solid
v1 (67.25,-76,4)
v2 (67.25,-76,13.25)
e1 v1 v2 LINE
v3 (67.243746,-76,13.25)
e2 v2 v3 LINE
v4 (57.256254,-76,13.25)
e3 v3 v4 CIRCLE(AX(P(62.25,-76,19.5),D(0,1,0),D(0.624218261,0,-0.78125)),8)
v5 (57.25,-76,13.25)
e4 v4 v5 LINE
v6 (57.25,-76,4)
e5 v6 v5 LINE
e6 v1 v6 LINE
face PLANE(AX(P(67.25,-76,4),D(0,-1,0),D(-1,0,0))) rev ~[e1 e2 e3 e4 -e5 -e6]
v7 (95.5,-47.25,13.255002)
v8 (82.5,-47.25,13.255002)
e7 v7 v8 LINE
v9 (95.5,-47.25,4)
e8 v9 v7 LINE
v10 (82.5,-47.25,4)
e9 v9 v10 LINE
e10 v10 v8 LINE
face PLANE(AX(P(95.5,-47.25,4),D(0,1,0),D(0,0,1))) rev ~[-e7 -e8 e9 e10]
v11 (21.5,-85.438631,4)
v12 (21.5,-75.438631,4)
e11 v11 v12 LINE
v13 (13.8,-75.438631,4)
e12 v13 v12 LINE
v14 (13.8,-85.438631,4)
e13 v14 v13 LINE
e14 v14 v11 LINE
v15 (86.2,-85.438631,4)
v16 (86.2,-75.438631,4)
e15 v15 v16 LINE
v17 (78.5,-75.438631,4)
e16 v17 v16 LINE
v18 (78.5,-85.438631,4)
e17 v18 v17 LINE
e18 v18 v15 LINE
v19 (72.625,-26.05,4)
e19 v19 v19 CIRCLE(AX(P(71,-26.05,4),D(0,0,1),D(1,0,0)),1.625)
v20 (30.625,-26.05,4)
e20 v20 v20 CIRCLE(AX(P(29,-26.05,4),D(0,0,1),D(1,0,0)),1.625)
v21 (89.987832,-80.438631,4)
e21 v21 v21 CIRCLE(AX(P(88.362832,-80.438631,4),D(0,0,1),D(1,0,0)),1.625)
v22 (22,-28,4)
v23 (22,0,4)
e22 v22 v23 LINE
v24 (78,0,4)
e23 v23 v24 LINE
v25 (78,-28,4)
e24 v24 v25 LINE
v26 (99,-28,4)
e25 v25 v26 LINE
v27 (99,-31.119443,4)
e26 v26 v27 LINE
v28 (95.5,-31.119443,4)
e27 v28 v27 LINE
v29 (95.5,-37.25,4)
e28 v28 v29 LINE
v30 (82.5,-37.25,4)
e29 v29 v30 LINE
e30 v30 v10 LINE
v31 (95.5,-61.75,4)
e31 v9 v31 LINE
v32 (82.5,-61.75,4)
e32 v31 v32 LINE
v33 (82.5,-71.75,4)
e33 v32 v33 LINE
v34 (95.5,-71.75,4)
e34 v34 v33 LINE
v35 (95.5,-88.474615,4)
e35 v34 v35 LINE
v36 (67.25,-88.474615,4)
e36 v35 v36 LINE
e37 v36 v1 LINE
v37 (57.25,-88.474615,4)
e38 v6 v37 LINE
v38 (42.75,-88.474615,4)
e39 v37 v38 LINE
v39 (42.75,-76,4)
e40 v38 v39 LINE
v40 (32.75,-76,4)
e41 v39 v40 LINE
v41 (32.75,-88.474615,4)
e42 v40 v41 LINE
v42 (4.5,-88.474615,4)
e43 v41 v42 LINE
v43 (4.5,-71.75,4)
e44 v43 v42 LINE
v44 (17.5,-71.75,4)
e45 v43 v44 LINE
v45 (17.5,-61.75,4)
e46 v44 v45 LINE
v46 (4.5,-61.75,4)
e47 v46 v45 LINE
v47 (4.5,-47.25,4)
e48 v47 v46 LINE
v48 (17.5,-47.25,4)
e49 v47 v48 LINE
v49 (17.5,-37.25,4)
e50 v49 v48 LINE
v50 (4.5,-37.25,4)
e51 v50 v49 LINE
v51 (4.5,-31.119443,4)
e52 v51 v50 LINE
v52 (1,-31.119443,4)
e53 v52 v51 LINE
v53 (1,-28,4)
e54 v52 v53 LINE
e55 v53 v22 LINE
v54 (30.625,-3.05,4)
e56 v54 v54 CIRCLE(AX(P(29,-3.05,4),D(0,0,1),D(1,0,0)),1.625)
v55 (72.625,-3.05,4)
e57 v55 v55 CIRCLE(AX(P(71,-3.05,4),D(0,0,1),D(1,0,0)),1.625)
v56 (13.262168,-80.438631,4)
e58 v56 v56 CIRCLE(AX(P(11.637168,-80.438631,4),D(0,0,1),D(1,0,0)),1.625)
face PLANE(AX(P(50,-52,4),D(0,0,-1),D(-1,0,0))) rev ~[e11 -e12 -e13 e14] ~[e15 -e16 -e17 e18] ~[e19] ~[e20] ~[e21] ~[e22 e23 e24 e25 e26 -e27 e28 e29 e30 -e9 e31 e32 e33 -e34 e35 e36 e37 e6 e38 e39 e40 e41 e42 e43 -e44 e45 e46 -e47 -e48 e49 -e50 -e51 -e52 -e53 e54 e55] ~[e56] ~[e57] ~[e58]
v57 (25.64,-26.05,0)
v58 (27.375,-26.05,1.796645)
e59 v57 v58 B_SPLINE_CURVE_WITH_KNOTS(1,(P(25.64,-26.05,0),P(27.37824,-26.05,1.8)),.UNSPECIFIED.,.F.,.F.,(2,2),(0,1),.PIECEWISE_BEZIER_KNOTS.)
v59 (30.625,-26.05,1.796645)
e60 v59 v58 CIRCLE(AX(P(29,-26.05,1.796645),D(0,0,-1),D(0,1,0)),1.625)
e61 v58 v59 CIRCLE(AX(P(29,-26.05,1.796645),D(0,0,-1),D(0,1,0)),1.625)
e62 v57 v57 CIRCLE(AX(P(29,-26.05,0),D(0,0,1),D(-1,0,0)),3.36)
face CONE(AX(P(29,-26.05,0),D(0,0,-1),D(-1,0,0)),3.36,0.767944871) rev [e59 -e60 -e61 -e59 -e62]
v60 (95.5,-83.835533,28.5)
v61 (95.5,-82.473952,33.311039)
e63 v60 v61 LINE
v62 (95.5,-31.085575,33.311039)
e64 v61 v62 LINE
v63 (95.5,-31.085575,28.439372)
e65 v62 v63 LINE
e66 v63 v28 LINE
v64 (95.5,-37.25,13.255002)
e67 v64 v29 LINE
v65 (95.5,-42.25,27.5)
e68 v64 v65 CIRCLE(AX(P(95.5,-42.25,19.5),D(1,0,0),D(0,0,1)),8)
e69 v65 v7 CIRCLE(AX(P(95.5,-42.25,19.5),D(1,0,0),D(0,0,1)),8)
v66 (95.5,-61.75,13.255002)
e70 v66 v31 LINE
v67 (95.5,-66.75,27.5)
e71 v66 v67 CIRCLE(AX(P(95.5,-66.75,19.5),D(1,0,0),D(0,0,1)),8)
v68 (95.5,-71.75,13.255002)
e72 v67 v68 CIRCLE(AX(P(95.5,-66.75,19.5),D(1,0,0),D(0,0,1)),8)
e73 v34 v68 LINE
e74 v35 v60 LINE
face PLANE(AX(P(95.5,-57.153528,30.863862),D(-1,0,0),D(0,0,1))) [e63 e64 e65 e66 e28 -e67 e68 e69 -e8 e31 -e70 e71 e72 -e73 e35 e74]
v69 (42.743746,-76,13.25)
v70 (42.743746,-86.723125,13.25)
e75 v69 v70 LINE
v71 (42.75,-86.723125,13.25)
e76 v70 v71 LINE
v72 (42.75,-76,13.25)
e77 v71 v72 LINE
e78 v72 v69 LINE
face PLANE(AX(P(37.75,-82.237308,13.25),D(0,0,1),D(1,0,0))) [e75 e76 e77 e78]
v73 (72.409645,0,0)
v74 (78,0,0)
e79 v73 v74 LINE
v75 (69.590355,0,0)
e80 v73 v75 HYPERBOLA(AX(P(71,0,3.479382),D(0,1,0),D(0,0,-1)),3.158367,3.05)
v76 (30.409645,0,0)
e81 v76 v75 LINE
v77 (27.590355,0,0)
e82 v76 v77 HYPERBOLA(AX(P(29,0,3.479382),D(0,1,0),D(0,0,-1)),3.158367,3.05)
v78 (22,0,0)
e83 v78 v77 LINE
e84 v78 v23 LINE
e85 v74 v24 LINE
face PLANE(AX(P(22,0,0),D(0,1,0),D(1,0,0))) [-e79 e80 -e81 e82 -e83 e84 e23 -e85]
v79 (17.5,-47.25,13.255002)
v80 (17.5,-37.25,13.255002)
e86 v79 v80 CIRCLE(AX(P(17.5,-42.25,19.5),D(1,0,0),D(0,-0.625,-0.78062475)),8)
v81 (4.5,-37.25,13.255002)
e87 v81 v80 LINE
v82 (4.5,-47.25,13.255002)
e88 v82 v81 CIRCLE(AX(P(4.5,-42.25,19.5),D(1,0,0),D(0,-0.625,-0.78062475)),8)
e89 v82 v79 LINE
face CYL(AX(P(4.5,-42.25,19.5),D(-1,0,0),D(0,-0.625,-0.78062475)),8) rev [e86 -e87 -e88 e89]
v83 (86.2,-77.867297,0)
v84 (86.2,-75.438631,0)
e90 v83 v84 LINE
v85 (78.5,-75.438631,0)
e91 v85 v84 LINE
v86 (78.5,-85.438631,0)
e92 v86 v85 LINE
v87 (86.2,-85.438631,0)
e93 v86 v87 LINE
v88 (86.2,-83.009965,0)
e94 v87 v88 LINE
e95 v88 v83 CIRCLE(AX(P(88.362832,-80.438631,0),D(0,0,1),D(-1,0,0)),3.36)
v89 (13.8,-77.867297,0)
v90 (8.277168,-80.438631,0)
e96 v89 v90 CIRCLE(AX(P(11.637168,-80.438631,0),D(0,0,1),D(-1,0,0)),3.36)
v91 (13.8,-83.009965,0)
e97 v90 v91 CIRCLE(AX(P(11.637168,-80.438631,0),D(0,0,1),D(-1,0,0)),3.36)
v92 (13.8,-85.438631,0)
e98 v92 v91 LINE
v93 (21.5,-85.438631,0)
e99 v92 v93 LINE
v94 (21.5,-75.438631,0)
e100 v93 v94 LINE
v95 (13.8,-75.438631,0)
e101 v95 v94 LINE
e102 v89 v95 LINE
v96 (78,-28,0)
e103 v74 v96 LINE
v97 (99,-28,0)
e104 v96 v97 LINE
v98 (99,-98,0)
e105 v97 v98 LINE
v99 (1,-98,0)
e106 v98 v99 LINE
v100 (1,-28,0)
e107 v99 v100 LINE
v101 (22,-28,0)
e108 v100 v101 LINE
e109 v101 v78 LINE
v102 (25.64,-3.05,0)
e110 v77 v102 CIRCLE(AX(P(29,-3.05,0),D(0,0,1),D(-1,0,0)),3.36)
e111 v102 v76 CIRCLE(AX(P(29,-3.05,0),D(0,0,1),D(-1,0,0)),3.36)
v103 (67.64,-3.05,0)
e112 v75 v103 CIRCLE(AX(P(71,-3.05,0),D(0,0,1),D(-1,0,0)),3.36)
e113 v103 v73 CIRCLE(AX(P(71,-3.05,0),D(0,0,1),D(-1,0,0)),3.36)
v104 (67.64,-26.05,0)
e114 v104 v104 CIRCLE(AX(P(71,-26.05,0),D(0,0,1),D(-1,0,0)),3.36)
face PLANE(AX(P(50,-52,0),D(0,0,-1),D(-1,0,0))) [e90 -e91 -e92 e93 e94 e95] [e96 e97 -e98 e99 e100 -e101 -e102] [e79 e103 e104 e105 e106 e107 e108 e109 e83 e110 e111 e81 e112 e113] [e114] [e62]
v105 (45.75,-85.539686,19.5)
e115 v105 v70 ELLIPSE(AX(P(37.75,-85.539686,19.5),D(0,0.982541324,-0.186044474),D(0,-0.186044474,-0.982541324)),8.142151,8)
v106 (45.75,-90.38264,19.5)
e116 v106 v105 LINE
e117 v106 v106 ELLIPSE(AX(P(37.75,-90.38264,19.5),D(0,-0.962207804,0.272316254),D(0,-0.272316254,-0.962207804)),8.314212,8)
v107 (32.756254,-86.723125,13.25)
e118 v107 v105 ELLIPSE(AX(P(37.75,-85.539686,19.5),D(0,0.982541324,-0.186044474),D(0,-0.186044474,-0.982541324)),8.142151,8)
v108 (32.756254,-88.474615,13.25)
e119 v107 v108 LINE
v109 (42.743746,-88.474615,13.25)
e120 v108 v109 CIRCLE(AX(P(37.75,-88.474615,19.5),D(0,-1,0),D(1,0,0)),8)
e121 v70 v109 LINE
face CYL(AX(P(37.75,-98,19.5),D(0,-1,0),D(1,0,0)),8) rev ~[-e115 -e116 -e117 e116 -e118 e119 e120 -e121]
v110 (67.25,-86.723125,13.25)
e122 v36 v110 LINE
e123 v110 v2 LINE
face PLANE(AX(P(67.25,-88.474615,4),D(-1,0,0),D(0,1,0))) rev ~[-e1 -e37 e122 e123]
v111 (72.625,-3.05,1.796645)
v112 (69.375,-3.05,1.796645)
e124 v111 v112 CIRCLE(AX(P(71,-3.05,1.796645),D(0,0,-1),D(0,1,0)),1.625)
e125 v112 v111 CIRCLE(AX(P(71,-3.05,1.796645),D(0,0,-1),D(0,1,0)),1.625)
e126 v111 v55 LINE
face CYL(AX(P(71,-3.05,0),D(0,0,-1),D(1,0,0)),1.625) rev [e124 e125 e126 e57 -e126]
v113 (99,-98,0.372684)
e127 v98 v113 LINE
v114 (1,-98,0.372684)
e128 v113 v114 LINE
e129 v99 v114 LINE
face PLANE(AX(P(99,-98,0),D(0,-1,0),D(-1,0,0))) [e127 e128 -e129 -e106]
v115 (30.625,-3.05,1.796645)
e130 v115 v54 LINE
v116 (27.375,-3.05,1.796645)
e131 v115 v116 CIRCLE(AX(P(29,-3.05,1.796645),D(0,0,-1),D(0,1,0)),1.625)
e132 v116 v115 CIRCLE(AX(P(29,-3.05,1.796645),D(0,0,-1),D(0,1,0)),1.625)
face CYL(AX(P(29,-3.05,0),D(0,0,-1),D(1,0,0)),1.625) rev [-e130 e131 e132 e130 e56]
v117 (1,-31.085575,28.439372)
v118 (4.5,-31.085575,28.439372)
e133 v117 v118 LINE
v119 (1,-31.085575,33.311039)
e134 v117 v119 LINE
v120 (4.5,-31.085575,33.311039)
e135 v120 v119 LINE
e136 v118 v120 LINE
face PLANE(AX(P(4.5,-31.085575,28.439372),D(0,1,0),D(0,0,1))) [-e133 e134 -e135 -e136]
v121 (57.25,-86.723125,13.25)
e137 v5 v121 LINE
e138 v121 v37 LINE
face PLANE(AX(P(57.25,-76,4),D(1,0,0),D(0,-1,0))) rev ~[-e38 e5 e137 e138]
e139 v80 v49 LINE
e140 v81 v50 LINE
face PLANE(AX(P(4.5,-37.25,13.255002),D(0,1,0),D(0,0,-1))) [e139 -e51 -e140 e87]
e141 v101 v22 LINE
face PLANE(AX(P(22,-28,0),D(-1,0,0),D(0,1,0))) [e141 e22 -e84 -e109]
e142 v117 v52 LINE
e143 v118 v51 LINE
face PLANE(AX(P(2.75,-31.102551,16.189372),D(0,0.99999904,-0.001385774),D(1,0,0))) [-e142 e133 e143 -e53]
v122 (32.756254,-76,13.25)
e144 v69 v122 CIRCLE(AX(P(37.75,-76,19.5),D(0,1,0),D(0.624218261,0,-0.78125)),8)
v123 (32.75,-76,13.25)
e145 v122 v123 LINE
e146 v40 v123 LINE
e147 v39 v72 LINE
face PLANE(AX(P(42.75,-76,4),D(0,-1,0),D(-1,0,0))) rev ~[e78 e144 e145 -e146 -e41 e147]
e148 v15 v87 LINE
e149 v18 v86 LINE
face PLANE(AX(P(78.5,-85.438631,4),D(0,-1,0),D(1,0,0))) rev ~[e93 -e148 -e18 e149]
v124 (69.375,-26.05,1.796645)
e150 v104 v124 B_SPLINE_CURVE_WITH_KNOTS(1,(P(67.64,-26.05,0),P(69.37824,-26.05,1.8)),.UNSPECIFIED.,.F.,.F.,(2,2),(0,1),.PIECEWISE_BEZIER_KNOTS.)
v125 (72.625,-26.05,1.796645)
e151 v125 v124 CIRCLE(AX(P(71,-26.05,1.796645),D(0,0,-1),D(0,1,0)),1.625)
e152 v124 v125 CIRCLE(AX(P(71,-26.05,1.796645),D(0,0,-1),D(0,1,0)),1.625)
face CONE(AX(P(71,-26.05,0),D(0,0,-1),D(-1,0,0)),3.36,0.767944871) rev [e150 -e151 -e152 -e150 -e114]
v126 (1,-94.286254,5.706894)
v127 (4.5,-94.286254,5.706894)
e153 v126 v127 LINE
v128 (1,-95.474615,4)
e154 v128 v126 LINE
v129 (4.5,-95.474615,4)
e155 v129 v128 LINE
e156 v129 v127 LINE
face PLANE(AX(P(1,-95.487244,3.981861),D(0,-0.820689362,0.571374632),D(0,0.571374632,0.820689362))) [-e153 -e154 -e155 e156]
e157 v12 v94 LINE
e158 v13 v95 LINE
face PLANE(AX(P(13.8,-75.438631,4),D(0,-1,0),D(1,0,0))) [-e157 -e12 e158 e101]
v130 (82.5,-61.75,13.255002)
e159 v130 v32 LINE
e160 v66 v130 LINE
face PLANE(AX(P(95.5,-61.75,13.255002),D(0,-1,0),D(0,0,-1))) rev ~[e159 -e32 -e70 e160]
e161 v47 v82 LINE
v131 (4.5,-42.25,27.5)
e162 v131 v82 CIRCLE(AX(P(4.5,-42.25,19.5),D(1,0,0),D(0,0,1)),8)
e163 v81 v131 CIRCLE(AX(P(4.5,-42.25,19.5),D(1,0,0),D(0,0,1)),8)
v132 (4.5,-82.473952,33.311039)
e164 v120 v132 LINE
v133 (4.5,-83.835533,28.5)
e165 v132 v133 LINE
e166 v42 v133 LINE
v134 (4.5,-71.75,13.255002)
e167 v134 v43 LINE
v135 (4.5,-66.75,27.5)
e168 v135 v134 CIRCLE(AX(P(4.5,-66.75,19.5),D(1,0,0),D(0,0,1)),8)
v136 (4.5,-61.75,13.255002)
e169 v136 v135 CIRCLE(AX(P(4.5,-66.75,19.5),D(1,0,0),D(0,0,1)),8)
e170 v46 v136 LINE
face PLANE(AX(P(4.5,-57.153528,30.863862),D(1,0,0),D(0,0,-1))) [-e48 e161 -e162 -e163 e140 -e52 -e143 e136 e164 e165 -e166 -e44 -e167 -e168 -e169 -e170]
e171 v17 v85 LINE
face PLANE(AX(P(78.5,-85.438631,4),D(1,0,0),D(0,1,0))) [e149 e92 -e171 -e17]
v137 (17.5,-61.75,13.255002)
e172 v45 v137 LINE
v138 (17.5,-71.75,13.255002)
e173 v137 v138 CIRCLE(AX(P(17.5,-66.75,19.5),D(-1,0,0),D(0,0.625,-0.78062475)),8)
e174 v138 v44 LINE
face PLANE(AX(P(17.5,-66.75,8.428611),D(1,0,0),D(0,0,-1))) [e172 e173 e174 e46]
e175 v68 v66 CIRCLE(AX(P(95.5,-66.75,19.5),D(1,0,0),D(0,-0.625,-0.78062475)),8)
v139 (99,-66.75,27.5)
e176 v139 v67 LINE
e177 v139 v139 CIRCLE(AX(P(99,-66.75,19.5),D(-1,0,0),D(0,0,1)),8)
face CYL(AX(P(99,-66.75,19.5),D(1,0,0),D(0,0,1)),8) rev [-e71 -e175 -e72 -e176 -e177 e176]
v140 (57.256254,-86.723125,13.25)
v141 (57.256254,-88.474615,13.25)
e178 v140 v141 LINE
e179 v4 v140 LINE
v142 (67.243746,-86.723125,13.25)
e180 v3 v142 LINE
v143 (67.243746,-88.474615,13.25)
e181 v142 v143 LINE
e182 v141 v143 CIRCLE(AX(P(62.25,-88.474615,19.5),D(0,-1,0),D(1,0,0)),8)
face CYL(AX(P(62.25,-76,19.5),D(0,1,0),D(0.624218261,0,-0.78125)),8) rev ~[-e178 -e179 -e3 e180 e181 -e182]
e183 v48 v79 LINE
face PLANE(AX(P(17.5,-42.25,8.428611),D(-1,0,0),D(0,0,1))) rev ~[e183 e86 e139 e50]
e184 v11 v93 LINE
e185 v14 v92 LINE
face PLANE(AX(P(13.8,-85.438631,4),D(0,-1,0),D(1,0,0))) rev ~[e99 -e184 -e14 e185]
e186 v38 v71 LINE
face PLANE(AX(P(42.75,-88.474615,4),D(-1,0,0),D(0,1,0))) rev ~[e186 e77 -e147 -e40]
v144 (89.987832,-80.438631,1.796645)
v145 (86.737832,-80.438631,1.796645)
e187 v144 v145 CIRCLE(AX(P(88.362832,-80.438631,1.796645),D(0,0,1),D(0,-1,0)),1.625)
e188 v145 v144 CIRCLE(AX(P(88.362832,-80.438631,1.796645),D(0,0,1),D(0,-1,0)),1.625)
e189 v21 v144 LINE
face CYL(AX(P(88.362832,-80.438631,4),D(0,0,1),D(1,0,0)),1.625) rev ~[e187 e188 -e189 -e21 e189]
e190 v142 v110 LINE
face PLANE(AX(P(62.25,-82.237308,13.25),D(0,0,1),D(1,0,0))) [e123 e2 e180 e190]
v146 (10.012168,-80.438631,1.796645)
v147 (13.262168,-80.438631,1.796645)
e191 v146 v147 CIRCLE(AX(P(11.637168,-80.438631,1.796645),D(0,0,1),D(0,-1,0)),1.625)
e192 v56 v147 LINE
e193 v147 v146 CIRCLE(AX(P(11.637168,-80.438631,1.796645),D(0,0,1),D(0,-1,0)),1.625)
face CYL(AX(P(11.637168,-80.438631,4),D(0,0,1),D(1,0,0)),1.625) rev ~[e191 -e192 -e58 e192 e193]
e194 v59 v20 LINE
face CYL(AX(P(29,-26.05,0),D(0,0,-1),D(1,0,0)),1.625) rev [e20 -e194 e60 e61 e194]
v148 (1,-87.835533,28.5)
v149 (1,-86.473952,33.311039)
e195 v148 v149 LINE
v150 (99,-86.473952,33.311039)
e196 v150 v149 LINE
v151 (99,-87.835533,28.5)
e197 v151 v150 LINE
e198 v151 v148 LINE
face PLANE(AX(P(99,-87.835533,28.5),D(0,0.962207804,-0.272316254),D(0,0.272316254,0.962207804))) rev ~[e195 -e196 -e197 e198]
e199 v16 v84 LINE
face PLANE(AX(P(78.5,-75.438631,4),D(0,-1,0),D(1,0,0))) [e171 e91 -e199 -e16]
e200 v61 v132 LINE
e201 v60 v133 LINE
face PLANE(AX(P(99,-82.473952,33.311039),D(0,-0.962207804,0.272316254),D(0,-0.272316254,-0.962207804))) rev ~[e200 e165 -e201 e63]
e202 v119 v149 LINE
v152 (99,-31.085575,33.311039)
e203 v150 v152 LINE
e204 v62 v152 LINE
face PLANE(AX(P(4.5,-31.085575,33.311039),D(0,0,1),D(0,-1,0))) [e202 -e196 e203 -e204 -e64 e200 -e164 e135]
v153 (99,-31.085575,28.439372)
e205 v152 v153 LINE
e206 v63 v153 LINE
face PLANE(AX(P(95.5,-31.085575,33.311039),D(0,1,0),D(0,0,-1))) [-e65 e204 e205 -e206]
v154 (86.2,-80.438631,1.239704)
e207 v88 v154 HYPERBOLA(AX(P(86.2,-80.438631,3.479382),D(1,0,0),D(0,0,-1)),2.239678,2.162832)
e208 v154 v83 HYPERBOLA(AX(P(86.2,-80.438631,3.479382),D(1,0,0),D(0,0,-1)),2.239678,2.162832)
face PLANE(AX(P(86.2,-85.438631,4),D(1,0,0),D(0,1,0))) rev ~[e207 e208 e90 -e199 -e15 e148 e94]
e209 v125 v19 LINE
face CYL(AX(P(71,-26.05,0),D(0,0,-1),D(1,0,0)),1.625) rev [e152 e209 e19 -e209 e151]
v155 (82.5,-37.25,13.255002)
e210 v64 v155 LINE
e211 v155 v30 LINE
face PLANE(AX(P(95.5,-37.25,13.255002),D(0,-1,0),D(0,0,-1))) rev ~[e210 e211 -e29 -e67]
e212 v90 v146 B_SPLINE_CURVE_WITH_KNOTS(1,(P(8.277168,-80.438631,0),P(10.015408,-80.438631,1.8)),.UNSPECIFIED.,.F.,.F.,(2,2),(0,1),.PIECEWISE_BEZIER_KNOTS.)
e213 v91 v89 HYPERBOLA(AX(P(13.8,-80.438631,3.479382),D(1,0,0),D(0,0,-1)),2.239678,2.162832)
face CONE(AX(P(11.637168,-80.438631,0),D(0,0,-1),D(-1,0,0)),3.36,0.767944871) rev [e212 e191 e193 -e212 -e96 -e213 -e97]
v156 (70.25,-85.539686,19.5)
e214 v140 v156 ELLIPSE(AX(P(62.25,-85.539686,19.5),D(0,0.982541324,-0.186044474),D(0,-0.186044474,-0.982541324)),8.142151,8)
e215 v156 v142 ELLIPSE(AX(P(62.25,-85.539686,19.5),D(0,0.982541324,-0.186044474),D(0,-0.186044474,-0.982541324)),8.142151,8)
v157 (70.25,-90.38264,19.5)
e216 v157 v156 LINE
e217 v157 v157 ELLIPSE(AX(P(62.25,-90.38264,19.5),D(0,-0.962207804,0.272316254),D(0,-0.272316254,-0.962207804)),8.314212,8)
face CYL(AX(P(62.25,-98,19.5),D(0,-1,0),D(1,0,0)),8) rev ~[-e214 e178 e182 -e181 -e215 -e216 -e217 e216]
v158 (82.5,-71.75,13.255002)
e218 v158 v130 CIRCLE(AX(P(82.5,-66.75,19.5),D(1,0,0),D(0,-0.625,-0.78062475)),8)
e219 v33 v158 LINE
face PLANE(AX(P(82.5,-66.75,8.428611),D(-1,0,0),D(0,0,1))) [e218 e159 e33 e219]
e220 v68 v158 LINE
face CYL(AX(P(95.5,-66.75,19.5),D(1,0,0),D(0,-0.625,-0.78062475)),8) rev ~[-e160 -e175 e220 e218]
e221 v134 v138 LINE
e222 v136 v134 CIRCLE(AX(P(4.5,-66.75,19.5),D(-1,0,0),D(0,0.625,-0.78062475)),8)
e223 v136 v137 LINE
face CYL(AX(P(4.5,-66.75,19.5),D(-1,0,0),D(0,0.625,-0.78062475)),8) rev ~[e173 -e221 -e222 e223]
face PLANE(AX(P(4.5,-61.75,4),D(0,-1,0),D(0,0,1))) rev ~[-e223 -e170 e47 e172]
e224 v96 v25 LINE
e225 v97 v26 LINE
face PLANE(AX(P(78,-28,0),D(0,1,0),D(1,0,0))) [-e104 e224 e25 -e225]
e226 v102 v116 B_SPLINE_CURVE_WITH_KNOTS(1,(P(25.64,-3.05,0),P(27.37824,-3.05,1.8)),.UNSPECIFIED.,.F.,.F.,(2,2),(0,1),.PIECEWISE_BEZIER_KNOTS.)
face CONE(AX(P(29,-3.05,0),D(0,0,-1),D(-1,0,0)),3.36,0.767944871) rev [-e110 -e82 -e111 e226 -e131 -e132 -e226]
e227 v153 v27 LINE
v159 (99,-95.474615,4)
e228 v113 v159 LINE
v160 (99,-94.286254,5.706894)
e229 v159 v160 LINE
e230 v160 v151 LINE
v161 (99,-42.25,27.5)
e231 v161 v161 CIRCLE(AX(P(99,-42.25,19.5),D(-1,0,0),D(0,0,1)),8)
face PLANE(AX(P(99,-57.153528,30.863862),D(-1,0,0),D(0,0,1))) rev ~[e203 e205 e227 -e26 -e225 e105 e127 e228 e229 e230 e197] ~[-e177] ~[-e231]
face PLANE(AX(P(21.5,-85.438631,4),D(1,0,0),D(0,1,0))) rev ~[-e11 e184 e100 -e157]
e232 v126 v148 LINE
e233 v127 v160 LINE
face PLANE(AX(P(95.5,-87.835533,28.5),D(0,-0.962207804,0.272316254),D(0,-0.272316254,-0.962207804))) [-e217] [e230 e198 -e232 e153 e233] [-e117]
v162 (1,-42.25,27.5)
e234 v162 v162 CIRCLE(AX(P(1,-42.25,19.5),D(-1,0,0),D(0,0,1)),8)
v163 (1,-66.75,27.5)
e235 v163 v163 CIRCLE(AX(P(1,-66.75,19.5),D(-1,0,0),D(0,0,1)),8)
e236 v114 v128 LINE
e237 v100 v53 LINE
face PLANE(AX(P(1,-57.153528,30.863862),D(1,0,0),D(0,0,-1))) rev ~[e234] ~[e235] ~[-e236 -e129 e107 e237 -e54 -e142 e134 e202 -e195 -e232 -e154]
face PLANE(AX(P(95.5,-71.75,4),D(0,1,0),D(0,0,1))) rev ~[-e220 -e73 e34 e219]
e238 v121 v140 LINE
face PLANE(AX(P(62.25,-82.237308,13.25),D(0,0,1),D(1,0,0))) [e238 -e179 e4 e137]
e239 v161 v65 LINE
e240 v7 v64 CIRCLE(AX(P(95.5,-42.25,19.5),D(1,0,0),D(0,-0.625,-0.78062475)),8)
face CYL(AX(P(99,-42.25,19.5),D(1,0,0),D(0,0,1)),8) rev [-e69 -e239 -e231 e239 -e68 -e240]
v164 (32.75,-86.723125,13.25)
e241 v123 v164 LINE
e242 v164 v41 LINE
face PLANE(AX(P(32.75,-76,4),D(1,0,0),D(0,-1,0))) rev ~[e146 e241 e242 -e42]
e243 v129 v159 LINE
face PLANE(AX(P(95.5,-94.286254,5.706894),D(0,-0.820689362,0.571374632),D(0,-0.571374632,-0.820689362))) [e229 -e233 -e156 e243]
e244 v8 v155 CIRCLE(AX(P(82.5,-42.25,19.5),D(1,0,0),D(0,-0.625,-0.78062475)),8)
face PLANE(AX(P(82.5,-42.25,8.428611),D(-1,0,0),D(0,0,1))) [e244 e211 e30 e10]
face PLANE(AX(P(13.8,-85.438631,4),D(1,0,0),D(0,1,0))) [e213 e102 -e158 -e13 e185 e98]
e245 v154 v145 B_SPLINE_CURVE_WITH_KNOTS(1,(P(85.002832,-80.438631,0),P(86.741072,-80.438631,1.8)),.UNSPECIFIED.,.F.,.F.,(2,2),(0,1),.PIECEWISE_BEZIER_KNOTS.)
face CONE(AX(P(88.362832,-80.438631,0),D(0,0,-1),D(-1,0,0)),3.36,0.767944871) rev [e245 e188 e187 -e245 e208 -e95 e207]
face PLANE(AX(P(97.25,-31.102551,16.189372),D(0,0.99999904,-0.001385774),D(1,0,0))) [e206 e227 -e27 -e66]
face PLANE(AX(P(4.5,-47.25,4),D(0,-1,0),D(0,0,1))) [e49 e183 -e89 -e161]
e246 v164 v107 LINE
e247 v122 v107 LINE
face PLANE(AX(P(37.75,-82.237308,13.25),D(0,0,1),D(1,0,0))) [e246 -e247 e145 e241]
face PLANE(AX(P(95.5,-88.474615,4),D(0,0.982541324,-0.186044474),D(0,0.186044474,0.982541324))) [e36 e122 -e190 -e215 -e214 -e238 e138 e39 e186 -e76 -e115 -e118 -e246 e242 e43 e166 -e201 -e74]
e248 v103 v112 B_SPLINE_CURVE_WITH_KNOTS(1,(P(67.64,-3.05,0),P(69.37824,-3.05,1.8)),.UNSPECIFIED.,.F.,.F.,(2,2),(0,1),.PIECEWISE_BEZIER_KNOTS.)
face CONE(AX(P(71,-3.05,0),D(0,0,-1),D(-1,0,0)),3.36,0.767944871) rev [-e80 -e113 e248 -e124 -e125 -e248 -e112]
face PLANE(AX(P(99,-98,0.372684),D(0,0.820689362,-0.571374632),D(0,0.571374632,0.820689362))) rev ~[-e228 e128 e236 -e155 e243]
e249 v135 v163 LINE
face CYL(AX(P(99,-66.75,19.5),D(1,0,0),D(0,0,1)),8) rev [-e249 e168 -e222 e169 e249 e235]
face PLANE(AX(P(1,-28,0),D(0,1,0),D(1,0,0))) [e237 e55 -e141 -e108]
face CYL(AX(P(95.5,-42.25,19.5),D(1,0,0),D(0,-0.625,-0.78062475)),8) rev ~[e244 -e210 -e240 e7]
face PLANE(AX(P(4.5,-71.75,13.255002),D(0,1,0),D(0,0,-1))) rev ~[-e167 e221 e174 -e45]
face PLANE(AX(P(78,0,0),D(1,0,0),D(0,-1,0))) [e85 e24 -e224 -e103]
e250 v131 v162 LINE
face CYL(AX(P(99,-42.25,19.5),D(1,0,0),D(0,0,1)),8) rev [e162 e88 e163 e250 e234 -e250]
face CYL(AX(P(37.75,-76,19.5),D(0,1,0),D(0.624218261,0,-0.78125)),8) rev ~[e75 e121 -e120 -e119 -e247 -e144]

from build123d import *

# Parameters (mm, degrees)
CROQUIS1_R               = 1.625
SALIENTE_EXTRUIR1_DEPTH  = 4
SALIENTE_EXTRUIR2_DEPTH  = 3.5
CORTAR_EXTRUIR1_START    = -98
CORTAR_EXTRUIR1_DEPTH    = 98
SALIENTE_EXTRUIR4_DEPTH  = 3.5
CROQUIS11_W              = 3.5
CROQUIS11_H              = 24.500023525
SALIENTE_EXTRUIR16_DEPTH = 43.75
CORTAR_EXTRUIR2_START    = -98
CROQUIS13_R              = 8
CORTAR_EXTRUIR2_DEPTH    = 98
SALIENTE_EXTRUIR17_DEPTH = 91
CROQUIS15_R              = 8
CORTAR_EXTRUIR3_DEPTH    = 70
SALIENTE_EXTRUIR18_DEPTH = 98
SALIENTE_EXTRUIR19_START = -3.5
SALIENTE_EXTRUIR19_DEPTH = 3.5
SALIENTE_EXTRUIR20_START = -3.5
SALIENTE_EXTRUIR20_DEPTH = 3.5
CROQUIS22_R              = 1.625
CROQUIS22_W              = 7.7
CROQUIS22_H              = 10
CORTAR_EXTRUIR4_DEPTH    = 4
SALIENTE_EXTRUIR21_DEPTH = 13
SALIENTE_EXTRUIR22_DEPTH = 13
SALIENTE_EXTRUIR23_DEPTH = 9.25
CORTAR_EXTRUIR5_START    = -12.474615
CORTAR_EXTRUIR5_DEPTH    = 12.474615
CROQUIS27_R              = 3.36
CORTAR_EXTRUIR6_DEPTH    = 1.8
CORTAR_EXTRUIR6_TAPER    = 44


with BuildPart() as part:
    # Croquis1 → Saliente-Extruir1 (new body)
    with BuildSketch(Plane.XY):
        Polygon((99, -28), (99, -98), (1, -98), (1, -28), (22, -28), (22, 0), (78, 0), (78, -28), align=None)
        with Locations((29, -3.05)):
            Circle(CROQUIS1_R, mode=Mode.SUBTRACT)
        with Locations((29, -26.05)):
            Circle(CROQUIS1_R, mode=Mode.SUBTRACT)
        with Locations((71, -26.05)):
            Circle(CROQUIS1_R, mode=Mode.SUBTRACT)
        with Locations((71, -3.05)):
            Circle(CROQUIS1_R, mode=Mode.SUBTRACT)
    extrude(amount=SALIENTE_EXTRUIR1_DEPTH)

    # Croquis3 → Saliente-Extruir2 (add)
    with BuildSketch(Plane.ZY.offset(-1)):
        Polygon((4, -74.869484932), (3.981861285, -95.48724368), (5.706893625, -94.286253678), (28.5, -87.835533437), (28.5, -74.835533437), align=None)
    extrude(amount=-SALIENTE_EXTRUIR2_DEPTH)

    # Croquis4 → Cortar-Extruir1 (cut)
    with BuildSketch(Plane.ZY.offset(-1).offset(CORTAR_EXTRUIR1_START)):
        Polygon((4, -98), (0.372683932, -98), (4, -95.47461527), align=None)
    extrude(amount=CORTAR_EXTRUIR1_DEPTH, mode=Mode.SUBTRACT)

    # Croquis6 → Saliente-Extruir4 (add)
    with BuildSketch(Plane(origin=(99, 0, 0), x_dir=(0, 0, -1), z_dir=(1, 0, 0))):
        Polygon((-4, -95.47461527), (-5.706893625, -94.286253678), (-28.5, -87.835533437), (-28.5, -74.835533437), (-4, -74.869484932), align=None)
    extrude(amount=-SALIENTE_EXTRUIR4_DEPTH)

    # Croquis11 → Saliente-Extruir16 (add)
    with BuildSketch(Plane(origin=(0, -74.874884245, 0.103759765), x_dir=(1, 0, 0), z_dir=(0, 0.99999904, -0.001385774))):
        with Locations((97.25, -16.146255738)):
            Rectangle(CROQUIS11_W, CROQUIS11_H)
        with Locations((2.75, -16.146255738)):
            Rectangle(CROQUIS11_W, CROQUIS11_H)
    extrude(amount=SALIENTE_EXTRUIR16_DEPTH)

    # Croquis13 → Cortar-Extruir2 (cut)
    with BuildSketch(Plane.ZY.offset(-1).offset(CORTAR_EXTRUIR2_START)):
        with Locations((19.5, -42.25)):
            Circle(CROQUIS13_R)
        with Locations((19.5, -66.75)):
            Circle(CROQUIS13_R)
    extrude(amount=CORTAR_EXTRUIR2_DEPTH, mode=Mode.SUBTRACT)

    # Croquis14 → Saliente-Extruir17 (add)
    with BuildSketch(Plane.ZY.offset(-95.5)):
        Polygon((28.5, -87.835533437), (5.706893625, -94.286253678), (4, -95.47461527), (4, -88.47461527), (28.5, -83.835533437), align=None)
    extrude(amount=SALIENTE_EXTRUIR17_DEPTH)

    # Croquis15 → Cortar-Extruir3 (cut)
    with BuildSketch(Plane.XZ.offset(98)):
        with Locations((37.75, 19.5)):
            Circle(CROQUIS15_R)
        with Locations((62.25, 19.5)):
            Circle(CROQUIS15_R)
    extrude(amount=-CORTAR_EXTRUIR3_DEPTH, mode=Mode.SUBTRACT)

    # Croquis18 → Saliente-Extruir18 (add)
    with BuildSketch(Plane(origin=(99, 0, 0), x_dir=(0, 0, -1), z_dir=(1, 0, 0))):
        Polygon((-28.5, -87.835533437), (-33.311039019, -86.473952165), (-33.311039019, -82.473952165), (-28.5, -83.835533437), align=None)
    extrude(amount=-SALIENTE_EXTRUIR18_DEPTH)

    # Croquis19 → Saliente-Extruir19 (add)
    with BuildSketch(Plane(origin=(99, 0, 0), x_dir=(0, 0, -1), z_dir=(1, 0, 0)).offset(SALIENTE_EXTRUIR19_START)):
        Polygon((-28.5, -83.835533437), (-33.311039019, -82.473952165), (-33.311039019, -31.085575445), (-28.439372389, -31.085575445), (-28.5, -74.835533437), align=None)
    extrude(amount=SALIENTE_EXTRUIR19_DEPTH)

    # Croquis20 → Saliente-Extruir20 (add)
    with BuildSketch(Plane.ZY.offset(-1).offset(SALIENTE_EXTRUIR20_START)):
        Polygon((28.439372389, -31.085575445), (33.311039019, -31.085575445), (33.311039019, -82.473952165), (28.5, -83.835533437), (28.5, -74.835533437), align=None)
    extrude(amount=SALIENTE_EXTRUIR20_DEPTH)

    # Croquis22 → Cortar-Extruir4 (cut)
    with BuildSketch(Plane.XY.offset(4)):
        with Locations((88.362832, -80.438630677)):
            Circle(CROQUIS22_R)
        with Locations((11.637168, -80.438630677)):
            Circle(CROQUIS22_R)
        with Locations((82.35, -80.438630677)):
            Rectangle(CROQUIS22_W, CROQUIS22_H)
        with Locations((17.65, -80.438630677)):
            Rectangle(CROQUIS22_W, CROQUIS22_H)
    extrude(amount=-CORTAR_EXTRUIR4_DEPTH, mode=Mode.SUBTRACT)

    # Croquis23 → Saliente-Extruir21 (add)
    with BuildSketch(Plane(origin=(4.5, 0, 0), x_dir=(0, 0, -1), z_dir=(1, 0, 0))):
        with BuildLine():
            Line((-13.255002002, -71.75), (-4, -71.75))
            Line((-4, -71.75), (-4, -61.75))
            Line((-4, -61.75), (-13.255002002, -61.75))
            ThreePointArc((-13.255002002, -61.75), (-11.5, -66.75), (-13.255002002, -71.75))
        make_face()
        with BuildLine():
            Line((-4, -47.25), (-13.255002002, -47.25))
            ThreePointArc((-13.255002002, -47.25), (-11.5, -42.25), (-13.255002002, -37.25))
            Line((-13.255002002, -37.25), (-4, -37.25))
            Line((-4, -37.25), (-4, -47.25))
        make_face()
    extrude(amount=SALIENTE_EXTRUIR21_DEPTH)

    # Croquis24 → Saliente-Extruir22 (add)
    with BuildSketch(Plane.ZY.offset(-95.5)):
        with BuildLine():
            Line((13.255002002, -37.25), (4, -37.25))
            Line((4, -37.25), (4, -47.25))
            Line((4, -47.25), (13.255002002, -47.25))
            ThreePointArc((13.255002002, -47.25), (11.5, -42.25), (13.255002002, -37.25))
        make_face()
        with BuildLine():
            Line((13.255002002, -61.75), (4, -61.75))
            Line((4, -61.75), (4, -71.75))
            Line((4, -71.75), (13.255002002, -71.75))
            ThreePointArc((13.255002002, -71.75), (11.5, -66.75), (13.255002002, -61.75))
        make_face()
    extrude(amount=SALIENTE_EXTRUIR22_DEPTH)

    # Croquis25 → Saliente-Extruir23 (add)
    with BuildSketch(Plane.XY.offset(4)):
        Polygon((37.75, -88.47461527), (42.75, -88.47461527), (42.75, -76), (32.75, -76), (32.75, -88.47461527), align=None)
        Polygon((62.25, -88.47461527), (67.25, -88.47461527), (67.25, -76), (57.25, -76), (57.25, -88.47461527), align=None)
    extrude(amount=SALIENTE_EXTRUIR23_DEPTH)

    # Croquis26 → Cortar-Extruir5 (cut)
    with BuildSketch(Plane.XZ.offset(88.47461527).offset(CORTAR_EXTRUIR5_START)):
        with BuildLine():
            Line((57.256253911, 13.25), (67.243746089, 13.25))
            ThreePointArc((67.243746089, 13.25), (62.25, 11.5), (57.256253911, 13.25))
        make_face()
        with BuildLine():
            Line((32.756253911, 13.25), (42.743746089, 13.25))
            ThreePointArc((42.743746089, 13.25), (37.75, 11.5), (32.756253911, 13.25))
        make_face()
    extrude(amount=CORTAR_EXTRUIR5_DEPTH, mode=Mode.SUBTRACT)

    # Croquis27 → Cortar-Extruir6 (cut)
    with BuildSketch(Plane(origin=(0, 0, 0), x_dir=(-1, 0, 0), z_dir=(0, 0, -1))):
        with Locations((-29, -26.05)):
            Circle(CROQUIS27_R)
        with Locations((-71, -26.05)):
            Circle(CROQUIS27_R)
        with Locations((-71, -3.05)):
            Circle(CROQUIS27_R)
        with Locations((-29, -3.05)):
            Circle(CROQUIS27_R)
        with Locations((-11.637168, -80.438630677)):
            Circle(CROQUIS27_R)
        with Locations((-88.362832, -80.438630677)):
            Circle(CROQUIS27_R)
    extrude(amount=-CORTAR_EXTRUIR6_DEPTH, taper=CORTAR_EXTRUIR6_TAPER, mode=Mode.SUBTRACT)


solid = part.part
